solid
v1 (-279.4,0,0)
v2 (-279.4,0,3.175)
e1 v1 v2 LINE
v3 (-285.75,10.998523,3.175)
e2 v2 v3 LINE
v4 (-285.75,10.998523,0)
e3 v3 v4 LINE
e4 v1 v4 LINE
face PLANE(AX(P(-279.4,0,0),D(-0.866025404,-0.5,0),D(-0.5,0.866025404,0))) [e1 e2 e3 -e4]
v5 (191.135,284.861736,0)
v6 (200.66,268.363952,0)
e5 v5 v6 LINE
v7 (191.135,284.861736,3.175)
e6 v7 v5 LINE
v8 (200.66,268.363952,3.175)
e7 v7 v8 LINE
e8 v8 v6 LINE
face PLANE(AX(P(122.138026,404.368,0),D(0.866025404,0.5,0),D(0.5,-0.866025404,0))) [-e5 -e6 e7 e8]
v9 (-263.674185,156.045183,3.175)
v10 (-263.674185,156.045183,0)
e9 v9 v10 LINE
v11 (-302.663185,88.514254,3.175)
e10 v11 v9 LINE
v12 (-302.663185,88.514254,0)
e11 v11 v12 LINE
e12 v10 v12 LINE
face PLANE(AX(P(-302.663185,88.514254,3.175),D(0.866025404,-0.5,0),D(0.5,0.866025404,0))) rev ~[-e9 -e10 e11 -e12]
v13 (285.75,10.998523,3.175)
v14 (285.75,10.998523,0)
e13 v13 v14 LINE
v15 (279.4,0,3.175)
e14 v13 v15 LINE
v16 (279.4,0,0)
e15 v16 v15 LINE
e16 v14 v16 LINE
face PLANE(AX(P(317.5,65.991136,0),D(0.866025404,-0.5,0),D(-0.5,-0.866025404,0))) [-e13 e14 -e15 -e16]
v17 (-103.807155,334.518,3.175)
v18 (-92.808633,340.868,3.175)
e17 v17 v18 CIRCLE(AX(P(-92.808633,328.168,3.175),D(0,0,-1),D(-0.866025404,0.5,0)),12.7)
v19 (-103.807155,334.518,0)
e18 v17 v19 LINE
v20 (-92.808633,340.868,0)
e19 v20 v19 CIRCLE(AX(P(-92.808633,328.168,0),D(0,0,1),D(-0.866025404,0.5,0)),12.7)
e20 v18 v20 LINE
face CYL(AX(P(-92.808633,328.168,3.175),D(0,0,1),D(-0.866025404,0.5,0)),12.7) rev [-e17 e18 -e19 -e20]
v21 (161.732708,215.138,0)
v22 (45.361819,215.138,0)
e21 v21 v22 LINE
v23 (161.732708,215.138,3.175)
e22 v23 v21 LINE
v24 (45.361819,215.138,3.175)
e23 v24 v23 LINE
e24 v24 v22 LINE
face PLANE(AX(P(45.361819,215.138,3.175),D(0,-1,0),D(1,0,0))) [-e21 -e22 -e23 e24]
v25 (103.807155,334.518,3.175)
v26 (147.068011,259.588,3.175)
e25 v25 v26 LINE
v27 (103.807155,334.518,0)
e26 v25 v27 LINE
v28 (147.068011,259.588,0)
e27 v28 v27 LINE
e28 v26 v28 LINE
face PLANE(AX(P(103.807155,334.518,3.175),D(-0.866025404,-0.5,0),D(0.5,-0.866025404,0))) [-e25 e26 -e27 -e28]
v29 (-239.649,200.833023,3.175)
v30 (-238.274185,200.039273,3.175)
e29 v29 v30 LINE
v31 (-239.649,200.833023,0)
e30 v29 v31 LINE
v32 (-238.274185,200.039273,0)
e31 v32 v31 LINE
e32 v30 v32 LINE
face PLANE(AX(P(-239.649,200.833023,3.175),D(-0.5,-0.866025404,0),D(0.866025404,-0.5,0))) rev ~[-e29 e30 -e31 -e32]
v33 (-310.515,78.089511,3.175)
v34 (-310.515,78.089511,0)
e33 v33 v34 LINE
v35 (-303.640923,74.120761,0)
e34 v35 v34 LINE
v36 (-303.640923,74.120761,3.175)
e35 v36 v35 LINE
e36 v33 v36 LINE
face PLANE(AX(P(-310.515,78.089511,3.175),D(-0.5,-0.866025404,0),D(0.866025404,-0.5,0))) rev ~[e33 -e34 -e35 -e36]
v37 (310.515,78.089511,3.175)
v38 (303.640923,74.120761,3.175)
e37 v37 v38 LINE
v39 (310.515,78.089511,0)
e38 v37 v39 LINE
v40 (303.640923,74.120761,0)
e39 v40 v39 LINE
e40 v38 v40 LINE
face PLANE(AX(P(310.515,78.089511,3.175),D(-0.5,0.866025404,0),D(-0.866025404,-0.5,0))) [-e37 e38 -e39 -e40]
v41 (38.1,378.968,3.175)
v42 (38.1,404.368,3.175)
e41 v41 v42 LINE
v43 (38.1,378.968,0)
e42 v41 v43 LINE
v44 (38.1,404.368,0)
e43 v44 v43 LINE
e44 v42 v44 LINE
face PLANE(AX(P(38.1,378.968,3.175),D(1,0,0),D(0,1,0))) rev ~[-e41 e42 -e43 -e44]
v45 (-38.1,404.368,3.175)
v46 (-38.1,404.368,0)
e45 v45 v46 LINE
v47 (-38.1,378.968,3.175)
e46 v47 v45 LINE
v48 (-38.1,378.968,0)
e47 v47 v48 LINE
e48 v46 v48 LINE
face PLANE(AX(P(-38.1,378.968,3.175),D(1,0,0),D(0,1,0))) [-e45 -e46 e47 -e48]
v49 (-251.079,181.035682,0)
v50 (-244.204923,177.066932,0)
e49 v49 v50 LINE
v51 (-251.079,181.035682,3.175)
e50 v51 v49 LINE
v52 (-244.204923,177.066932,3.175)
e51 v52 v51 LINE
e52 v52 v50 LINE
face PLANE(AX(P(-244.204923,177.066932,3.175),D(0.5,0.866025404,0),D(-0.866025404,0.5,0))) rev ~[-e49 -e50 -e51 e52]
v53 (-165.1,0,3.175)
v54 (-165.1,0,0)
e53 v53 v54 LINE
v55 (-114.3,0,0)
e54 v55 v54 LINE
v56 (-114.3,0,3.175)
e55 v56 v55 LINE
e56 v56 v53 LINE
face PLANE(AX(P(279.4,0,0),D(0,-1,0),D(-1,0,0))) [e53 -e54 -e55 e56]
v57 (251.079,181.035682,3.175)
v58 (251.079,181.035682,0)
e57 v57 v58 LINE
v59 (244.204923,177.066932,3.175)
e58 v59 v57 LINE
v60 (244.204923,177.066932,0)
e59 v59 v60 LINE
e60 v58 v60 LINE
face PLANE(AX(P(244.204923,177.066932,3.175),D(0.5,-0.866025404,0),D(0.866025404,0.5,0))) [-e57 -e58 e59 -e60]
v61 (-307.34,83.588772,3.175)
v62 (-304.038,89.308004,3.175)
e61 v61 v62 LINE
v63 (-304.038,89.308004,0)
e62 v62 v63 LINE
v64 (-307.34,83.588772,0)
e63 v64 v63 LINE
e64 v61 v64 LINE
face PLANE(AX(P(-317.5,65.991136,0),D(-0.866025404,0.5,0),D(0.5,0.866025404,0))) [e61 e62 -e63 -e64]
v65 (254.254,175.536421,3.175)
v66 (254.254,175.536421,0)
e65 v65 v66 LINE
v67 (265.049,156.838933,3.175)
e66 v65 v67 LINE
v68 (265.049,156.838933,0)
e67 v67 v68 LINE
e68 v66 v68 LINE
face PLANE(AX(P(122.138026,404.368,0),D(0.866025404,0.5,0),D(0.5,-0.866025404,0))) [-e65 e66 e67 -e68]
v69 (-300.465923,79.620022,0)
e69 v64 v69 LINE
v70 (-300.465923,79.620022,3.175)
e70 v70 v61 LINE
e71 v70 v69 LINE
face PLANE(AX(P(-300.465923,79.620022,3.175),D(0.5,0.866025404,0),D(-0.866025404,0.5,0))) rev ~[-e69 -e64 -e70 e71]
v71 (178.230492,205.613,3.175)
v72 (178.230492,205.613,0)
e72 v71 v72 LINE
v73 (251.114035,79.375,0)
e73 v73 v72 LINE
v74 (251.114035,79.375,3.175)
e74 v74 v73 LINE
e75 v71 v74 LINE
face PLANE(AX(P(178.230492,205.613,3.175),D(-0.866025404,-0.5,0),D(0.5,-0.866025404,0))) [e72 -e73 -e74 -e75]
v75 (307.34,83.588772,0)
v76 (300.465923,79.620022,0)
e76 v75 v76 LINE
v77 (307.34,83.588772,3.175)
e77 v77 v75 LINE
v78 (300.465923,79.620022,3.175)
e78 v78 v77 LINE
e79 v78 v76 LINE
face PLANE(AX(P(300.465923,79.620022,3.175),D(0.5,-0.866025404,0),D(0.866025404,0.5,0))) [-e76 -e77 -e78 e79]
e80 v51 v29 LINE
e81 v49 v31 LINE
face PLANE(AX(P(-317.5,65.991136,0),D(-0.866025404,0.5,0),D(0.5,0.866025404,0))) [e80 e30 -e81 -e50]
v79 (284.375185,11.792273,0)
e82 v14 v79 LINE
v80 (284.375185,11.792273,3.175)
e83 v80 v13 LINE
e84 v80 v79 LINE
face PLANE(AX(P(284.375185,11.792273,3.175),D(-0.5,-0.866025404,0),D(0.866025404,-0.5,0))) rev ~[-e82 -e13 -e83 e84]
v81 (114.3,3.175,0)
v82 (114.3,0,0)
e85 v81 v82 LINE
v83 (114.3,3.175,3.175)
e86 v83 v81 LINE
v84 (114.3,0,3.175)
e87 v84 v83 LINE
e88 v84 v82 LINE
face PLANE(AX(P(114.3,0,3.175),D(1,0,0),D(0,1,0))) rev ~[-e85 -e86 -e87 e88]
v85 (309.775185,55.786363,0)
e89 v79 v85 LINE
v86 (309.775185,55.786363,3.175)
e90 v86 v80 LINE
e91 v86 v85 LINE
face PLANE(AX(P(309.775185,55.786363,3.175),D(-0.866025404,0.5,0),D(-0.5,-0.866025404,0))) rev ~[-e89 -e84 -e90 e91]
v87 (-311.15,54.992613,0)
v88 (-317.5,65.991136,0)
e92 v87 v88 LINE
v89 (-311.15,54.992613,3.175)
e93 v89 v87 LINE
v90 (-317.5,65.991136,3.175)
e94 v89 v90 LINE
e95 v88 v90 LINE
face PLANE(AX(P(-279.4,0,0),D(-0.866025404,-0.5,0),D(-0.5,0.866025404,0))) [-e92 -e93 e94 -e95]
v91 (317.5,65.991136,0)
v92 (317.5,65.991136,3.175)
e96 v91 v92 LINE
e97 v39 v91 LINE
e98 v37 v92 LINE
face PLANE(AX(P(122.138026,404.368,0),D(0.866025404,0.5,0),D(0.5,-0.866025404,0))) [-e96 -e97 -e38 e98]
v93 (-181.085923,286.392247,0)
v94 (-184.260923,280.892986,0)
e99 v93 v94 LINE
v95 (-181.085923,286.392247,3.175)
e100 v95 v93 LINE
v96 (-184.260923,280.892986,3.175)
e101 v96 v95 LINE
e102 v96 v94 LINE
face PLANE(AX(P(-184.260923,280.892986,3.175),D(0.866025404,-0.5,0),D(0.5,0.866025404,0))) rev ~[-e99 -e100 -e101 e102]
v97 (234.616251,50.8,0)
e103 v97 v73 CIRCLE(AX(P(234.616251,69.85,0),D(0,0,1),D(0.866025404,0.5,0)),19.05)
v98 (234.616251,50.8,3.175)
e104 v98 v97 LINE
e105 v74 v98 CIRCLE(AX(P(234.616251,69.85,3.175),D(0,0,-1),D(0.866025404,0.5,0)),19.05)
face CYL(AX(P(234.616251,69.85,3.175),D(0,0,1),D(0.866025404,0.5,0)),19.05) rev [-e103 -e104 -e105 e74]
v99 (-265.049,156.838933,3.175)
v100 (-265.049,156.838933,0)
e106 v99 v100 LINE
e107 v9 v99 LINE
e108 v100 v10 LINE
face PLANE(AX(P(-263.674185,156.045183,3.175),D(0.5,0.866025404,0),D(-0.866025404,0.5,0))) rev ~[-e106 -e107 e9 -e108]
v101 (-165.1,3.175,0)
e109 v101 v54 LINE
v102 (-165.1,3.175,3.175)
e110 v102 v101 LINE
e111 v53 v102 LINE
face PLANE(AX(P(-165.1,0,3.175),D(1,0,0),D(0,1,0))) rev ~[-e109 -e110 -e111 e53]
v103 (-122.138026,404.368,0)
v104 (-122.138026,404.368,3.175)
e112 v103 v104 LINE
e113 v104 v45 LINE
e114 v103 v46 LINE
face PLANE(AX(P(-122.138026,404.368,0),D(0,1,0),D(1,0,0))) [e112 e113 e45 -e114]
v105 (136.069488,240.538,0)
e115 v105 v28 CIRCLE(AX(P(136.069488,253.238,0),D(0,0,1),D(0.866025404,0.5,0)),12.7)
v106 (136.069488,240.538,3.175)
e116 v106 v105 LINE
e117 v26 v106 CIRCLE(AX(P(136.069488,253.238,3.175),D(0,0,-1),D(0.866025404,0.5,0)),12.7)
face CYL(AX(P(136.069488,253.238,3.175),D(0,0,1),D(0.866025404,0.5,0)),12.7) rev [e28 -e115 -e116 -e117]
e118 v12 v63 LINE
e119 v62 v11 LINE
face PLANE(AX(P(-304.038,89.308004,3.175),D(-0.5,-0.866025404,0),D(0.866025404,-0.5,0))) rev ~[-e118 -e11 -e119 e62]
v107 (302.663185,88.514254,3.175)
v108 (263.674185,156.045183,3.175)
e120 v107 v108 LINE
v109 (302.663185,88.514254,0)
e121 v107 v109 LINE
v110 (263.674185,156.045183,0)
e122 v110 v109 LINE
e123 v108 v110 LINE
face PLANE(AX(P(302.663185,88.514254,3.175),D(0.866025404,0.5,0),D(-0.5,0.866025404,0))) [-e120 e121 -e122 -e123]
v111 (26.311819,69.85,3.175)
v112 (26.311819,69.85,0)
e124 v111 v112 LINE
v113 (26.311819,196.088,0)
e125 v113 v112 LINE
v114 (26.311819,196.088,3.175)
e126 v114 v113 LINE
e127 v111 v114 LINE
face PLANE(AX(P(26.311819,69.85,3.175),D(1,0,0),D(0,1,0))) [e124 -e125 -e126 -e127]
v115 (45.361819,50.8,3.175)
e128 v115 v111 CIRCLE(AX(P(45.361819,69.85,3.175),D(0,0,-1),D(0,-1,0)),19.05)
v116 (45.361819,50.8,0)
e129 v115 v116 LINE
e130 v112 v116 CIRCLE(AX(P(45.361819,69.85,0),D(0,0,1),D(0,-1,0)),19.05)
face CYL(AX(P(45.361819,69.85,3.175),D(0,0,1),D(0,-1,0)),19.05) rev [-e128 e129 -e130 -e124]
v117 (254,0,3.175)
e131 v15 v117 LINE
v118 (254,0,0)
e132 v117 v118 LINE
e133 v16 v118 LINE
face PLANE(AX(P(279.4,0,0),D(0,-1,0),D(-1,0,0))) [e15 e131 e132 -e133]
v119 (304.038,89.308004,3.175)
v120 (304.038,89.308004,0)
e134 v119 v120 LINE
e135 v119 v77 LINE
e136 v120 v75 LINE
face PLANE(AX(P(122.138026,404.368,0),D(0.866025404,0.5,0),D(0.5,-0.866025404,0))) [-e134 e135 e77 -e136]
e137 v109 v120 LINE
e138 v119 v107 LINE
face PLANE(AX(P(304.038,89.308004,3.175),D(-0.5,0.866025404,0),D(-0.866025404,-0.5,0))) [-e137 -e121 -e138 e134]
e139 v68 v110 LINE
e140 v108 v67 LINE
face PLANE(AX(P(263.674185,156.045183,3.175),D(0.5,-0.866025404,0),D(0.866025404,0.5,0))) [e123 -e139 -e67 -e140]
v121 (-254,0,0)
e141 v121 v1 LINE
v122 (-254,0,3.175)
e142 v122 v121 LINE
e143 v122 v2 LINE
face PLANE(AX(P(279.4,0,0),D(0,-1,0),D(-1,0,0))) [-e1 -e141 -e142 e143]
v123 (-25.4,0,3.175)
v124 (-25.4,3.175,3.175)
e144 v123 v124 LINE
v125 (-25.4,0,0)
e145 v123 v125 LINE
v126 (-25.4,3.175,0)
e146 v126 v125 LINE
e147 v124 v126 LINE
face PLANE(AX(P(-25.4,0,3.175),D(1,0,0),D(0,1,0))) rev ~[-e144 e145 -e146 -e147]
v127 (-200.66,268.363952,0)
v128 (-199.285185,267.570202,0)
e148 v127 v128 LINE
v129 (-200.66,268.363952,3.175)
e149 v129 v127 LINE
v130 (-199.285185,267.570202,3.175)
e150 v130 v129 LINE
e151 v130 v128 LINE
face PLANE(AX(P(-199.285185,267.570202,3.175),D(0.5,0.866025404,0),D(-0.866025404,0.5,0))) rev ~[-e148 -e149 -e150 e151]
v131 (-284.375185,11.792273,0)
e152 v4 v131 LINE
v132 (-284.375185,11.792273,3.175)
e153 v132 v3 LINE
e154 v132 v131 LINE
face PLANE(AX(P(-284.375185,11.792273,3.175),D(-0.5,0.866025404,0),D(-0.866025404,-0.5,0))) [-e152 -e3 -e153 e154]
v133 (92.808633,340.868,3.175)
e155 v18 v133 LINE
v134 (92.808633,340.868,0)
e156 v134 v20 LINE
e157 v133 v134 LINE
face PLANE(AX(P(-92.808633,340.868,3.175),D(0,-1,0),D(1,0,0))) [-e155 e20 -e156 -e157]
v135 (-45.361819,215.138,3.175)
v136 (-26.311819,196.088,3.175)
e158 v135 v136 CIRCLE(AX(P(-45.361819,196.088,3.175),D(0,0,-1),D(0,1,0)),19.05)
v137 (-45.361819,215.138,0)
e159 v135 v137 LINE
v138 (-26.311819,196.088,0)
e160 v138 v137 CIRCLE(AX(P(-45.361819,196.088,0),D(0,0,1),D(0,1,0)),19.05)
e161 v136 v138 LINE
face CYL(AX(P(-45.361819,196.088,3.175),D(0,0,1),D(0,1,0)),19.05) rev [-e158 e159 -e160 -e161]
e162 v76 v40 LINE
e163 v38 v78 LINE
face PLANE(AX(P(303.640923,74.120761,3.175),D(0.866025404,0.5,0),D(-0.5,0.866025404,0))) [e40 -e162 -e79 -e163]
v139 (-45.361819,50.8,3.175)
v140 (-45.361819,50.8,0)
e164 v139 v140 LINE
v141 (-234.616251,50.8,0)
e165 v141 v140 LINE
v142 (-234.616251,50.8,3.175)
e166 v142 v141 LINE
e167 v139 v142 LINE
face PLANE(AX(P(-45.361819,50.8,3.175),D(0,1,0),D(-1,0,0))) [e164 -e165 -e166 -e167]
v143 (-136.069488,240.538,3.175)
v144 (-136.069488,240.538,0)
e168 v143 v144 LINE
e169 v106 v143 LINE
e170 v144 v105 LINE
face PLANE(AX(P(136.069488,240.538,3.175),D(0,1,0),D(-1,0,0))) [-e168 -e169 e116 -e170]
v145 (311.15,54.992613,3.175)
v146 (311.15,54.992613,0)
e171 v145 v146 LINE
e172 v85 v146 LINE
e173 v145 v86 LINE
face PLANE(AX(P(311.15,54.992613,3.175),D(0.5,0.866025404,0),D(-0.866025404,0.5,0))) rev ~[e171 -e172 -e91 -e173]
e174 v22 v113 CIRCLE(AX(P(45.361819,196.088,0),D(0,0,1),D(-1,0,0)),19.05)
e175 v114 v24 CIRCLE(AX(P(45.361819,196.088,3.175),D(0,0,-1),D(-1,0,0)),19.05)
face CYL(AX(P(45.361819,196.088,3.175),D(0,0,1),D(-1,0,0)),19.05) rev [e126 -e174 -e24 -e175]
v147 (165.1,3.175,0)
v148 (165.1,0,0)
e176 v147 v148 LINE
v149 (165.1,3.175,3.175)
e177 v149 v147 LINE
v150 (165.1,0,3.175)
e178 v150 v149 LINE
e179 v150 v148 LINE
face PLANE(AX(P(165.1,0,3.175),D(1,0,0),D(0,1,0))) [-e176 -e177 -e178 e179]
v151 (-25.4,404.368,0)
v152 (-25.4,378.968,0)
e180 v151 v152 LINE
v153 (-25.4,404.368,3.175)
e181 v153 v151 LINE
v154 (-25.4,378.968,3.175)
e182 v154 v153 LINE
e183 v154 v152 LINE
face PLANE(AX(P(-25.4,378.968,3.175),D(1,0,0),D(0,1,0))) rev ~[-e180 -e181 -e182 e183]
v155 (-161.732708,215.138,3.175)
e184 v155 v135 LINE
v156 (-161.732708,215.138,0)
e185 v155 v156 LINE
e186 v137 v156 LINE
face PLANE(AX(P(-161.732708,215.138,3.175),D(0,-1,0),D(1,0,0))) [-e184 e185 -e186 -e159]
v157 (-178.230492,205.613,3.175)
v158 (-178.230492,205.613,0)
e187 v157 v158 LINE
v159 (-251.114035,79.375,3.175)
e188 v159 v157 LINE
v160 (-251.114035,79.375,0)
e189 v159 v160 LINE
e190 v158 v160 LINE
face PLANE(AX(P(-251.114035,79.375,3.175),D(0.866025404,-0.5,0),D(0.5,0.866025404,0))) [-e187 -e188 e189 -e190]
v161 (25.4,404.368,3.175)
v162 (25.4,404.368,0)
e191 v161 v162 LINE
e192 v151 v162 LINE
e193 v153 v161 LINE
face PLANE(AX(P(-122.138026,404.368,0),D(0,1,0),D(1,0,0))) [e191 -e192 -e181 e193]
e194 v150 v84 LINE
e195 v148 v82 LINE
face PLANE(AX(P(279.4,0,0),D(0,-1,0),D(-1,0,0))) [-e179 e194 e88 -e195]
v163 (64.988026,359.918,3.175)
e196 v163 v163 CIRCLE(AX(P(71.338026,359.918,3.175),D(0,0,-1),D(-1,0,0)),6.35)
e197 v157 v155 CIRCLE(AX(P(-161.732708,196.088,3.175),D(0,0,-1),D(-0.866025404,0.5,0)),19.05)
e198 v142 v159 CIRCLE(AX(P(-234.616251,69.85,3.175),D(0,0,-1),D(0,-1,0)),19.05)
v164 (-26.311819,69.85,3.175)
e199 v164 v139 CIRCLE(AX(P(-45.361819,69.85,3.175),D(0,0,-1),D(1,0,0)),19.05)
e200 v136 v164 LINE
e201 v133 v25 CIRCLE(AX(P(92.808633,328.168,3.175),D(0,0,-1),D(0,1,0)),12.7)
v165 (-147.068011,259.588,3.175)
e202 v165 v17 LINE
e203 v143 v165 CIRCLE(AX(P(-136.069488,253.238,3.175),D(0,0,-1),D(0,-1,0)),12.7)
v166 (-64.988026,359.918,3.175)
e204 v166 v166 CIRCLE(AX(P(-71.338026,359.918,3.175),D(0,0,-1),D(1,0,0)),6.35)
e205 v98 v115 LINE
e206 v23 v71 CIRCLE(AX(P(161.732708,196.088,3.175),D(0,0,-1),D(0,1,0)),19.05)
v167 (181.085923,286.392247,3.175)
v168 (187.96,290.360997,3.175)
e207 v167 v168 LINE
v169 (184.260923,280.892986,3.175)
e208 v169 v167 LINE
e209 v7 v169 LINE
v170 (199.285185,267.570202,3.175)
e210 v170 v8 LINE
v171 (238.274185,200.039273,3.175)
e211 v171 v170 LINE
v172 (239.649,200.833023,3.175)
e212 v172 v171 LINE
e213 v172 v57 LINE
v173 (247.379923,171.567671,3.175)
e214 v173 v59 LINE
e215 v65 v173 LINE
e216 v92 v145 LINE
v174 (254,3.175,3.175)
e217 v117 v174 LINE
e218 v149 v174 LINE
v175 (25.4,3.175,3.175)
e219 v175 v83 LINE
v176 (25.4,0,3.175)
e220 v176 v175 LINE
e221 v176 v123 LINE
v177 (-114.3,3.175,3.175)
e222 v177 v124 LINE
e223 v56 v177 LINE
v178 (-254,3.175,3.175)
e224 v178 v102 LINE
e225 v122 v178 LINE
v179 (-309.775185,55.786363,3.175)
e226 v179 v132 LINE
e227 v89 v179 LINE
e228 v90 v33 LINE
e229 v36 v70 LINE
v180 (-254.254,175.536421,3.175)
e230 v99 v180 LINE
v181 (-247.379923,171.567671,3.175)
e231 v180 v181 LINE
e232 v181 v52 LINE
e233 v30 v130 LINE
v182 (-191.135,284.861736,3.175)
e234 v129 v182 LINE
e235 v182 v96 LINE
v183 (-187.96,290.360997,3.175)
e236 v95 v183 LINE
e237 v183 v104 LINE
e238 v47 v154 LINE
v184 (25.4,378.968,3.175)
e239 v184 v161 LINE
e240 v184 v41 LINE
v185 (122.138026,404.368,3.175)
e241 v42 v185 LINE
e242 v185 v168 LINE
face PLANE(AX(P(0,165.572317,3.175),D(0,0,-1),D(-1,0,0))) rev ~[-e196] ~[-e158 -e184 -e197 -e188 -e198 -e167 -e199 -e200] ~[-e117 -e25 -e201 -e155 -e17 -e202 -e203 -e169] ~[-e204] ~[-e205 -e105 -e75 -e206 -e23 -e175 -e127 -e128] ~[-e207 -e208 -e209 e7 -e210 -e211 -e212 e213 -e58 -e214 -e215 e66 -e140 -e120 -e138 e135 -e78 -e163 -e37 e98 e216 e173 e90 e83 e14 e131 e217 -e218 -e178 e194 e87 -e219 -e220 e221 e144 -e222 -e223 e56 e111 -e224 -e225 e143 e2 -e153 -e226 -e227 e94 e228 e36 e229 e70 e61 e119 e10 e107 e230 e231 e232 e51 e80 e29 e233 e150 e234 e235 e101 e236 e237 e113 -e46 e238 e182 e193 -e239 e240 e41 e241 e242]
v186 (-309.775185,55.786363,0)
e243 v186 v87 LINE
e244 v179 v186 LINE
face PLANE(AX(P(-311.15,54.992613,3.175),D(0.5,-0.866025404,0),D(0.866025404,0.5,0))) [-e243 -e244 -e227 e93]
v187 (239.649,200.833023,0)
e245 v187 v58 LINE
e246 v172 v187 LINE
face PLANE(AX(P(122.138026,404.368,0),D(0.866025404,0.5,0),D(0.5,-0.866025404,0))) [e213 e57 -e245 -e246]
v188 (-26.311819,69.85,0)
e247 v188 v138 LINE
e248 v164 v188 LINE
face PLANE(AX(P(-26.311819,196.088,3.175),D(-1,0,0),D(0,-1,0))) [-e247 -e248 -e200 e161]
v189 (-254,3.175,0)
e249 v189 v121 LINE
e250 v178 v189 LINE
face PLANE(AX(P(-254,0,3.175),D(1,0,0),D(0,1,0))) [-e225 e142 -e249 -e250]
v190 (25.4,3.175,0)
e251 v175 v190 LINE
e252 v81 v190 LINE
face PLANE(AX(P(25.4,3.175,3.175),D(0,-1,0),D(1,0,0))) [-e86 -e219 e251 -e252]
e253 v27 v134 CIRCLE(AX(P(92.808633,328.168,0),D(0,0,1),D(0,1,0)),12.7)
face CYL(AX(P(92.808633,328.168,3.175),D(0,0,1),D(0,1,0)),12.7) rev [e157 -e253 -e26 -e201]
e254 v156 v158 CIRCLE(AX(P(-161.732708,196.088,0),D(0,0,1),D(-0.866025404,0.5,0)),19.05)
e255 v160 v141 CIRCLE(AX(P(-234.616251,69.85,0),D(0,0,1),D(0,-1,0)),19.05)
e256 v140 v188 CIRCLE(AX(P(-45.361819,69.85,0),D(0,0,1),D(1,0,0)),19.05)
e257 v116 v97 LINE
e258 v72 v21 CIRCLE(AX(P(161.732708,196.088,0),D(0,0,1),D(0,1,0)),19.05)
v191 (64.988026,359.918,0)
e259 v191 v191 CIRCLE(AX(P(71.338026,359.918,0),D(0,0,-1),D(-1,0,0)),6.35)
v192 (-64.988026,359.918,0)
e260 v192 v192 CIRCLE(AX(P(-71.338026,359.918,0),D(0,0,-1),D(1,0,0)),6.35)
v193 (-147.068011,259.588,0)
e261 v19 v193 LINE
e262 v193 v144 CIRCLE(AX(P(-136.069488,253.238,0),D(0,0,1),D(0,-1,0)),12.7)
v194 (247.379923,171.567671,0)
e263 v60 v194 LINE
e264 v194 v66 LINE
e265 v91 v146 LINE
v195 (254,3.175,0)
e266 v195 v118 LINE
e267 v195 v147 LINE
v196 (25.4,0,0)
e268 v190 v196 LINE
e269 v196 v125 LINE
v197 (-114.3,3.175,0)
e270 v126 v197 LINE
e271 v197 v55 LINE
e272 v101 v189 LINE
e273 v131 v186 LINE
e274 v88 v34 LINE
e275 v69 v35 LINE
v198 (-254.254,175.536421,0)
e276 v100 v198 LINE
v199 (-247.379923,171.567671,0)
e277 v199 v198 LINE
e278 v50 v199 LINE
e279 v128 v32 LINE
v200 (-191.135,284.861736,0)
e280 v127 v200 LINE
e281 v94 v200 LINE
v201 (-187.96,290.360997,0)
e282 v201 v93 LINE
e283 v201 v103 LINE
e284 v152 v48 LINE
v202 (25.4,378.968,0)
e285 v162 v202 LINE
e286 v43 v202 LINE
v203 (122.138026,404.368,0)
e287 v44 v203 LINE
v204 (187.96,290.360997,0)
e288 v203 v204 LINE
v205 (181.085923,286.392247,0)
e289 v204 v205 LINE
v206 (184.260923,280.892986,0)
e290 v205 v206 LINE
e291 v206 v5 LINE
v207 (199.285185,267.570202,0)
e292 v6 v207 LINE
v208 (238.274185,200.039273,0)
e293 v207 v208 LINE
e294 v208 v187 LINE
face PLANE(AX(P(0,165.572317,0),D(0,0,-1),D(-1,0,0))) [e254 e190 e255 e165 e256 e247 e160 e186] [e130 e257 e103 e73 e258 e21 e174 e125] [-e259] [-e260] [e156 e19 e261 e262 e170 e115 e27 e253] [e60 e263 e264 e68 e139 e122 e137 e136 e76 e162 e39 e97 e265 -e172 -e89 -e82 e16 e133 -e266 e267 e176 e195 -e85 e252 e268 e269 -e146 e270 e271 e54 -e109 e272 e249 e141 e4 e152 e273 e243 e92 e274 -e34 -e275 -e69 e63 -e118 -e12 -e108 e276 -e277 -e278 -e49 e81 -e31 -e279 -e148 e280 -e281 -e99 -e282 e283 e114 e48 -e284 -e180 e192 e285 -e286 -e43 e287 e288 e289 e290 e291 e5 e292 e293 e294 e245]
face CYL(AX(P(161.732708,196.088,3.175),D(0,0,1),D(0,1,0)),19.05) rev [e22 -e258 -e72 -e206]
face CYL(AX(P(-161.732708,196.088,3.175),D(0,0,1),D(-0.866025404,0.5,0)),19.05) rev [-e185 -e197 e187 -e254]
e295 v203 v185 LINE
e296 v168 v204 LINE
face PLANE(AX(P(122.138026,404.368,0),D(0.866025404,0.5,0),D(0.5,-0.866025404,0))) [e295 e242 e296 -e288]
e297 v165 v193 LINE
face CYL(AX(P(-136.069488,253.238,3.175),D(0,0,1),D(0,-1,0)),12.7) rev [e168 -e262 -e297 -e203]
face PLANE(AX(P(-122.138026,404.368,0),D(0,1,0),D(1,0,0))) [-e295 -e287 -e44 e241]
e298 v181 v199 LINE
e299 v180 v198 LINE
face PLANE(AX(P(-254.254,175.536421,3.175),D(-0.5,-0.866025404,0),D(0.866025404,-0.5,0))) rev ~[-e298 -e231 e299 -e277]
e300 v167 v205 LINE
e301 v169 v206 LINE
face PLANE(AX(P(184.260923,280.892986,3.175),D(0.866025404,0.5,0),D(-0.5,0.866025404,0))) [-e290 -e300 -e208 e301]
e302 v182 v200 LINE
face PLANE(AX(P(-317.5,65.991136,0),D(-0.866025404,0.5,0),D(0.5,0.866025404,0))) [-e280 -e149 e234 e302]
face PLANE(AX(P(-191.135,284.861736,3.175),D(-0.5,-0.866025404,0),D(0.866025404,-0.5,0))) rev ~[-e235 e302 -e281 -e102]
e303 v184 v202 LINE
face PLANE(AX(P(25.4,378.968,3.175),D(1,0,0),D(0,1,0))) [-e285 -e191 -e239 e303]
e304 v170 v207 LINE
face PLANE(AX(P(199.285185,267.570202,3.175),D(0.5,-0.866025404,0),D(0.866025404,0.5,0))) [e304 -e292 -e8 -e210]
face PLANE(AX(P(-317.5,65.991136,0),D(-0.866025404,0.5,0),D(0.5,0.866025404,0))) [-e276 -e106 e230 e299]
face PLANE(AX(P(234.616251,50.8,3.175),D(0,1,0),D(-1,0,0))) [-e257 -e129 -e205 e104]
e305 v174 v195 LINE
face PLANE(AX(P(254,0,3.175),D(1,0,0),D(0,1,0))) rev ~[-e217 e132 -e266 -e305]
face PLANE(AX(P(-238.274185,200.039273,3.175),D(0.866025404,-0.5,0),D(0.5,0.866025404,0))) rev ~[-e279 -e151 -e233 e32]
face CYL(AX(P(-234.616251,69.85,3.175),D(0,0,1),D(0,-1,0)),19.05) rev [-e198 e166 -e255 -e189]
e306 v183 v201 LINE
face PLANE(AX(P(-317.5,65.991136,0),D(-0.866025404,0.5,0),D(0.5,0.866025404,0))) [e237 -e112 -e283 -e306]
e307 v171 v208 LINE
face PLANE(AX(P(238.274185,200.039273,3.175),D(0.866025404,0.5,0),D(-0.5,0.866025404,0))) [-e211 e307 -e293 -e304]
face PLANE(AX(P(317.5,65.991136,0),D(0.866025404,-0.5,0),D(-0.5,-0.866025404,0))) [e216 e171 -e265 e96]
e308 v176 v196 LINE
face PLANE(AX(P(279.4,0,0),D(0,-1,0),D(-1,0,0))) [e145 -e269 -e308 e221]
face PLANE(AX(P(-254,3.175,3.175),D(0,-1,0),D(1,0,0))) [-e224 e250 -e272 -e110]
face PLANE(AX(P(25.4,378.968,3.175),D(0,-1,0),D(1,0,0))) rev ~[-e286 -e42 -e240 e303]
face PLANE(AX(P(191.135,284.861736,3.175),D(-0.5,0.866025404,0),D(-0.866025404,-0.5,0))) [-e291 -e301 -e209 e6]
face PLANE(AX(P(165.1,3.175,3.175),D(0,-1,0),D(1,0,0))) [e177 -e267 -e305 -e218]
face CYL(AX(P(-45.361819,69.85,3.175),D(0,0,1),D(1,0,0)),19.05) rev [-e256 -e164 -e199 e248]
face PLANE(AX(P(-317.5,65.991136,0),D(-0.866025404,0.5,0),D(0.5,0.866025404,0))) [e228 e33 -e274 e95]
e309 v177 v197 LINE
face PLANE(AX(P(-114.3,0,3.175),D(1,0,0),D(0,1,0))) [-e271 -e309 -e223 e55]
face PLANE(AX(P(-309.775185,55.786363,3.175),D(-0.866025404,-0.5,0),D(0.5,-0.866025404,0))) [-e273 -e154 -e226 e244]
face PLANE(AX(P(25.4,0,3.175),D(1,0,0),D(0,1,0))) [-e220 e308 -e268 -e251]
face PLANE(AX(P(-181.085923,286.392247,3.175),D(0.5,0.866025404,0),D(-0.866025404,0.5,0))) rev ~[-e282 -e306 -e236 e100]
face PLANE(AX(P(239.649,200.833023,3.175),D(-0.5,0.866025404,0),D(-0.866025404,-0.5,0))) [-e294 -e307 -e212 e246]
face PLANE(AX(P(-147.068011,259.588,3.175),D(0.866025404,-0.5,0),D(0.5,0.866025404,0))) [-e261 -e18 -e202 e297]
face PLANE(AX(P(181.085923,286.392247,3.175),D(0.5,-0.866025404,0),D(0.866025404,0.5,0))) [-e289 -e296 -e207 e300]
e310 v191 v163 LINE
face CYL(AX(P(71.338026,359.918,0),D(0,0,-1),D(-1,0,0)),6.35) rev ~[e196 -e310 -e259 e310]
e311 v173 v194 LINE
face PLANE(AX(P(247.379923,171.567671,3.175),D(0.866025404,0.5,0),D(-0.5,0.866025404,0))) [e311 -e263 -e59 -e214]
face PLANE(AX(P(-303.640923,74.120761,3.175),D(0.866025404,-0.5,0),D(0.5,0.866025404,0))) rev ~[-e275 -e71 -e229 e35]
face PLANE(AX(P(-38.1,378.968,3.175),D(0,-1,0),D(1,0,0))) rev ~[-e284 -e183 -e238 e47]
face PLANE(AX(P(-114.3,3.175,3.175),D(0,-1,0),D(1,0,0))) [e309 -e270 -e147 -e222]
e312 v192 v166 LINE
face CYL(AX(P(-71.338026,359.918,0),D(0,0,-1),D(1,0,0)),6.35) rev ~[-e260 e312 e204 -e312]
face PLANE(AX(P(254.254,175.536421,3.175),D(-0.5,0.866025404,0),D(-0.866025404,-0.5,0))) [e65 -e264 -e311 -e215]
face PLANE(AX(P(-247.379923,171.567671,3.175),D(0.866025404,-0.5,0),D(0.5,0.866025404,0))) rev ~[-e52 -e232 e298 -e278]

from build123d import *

# Parameters (mm, degrees)
BOSS_EXTRUDE1_DEPTH = 3.175
SKETCH8_W           = 12.7
SKETCH8_H           = 25.4
CUT_EXTRUDE1_DEPTH  = 515.13014894
SKETCH9_W           = 88.9
SKETCH9_H           = 3.175
CUT_EXTRUDE2_DEPTH  = 515.13014894
CUT_EXTRUDE3_DEPTH  = 515.13014894
CUT_EXTRUDE4_DEPTH  = 515.13014894
CUT_EXTRUDE5_DEPTH  = 515.13014894
CUT_EXTRUDE6_DEPTH  = 515.13014894
CUT_EXTRUDE7_DEPTH  = 515.13014894
SKETCH15_R          = 6.35
CUT_EXTRUDE8_DEPTH  = 515.13014894


with BuildPart() as part:
    # Sketch7 → Boss-Extrude1 (new body)
    with BuildSketch(Plane.XY):
        Polygon((279.4, 0), (-279.4, 0), (-317.5, 65.991135768), (-122.138026348, 404.368), (122.138026348, 404.368), (317.5, 65.991135768), align=None)
    extrude(amount=BOSS_EXTRUDE1_DEPTH)

    # Sketch8 → Cut-Extrude1 (cut, through all)
    with BuildSketch(Plane.XY.offset(3.175)):
        with Locations((-31.75, 391.668)):
            Rectangle(SKETCH8_W, SKETCH8_H)
        with Locations((31.75, 391.668)):
            Rectangle(SKETCH8_W, SKETCH8_H)
    extrude(amount=-CUT_EXTRUDE1_DEPTH, mode=Mode.SUBTRACT)

    # Sketch9 → Cut-Extrude2 (cut, through all)
    with BuildSketch(Plane.XY.offset(3.175)):
        with Locations((-209.55, 1.5875)):
            Rectangle(SKETCH9_W, SKETCH9_H)
        with Locations((-69.85, 1.5875)):
            Rectangle(SKETCH9_W, SKETCH9_H)
        with Locations((69.85, 1.5875)):
            Rectangle(SKETCH9_W, SKETCH9_H)
        with Locations((209.55, 1.5875)):
            Rectangle(SKETCH9_W, SKETCH9_H)
    extrude(amount=-CUT_EXTRUDE2_DEPTH, mode=Mode.SUBTRACT)

    # Sketch10 → Cut-Extrude3 (cut, through all)
    with BuildSketch(Plane.XY.offset(3.175)):
        Polygon((-311.15, 54.99261314), (-309.775184671, 55.78636314), (-284.375184671, 11.792272628), (-285.75, 10.998522628), align=None)
        Polygon((285.75, 10.998522628), (311.15, 54.99261314), (309.775184671, 55.78636314), (284.375184671, 11.792272628), align=None)
    extrude(amount=-CUT_EXTRUDE3_DEPTH, mode=Mode.SUBTRACT)

    # Sketch11 → Cut-Extrude4 (cut, through all)
    with BuildSketch(Plane.XY.offset(3.175)):
        Polygon((-304.038, 89.30800374), (-302.663184671, 88.51425374), (-263.674184671, 156.045182676), (-265.049, 156.838932676), align=None)
        Polygon((-238.274184671, 200.039273188), (-199.285184671, 267.570202125), (-200.66, 268.363952125), (-239.649, 200.833023188), align=None)
        Polygon((304.038, 89.30800374), (302.663184671, 88.51425374), (263.674184671, 156.045182676), (265.049, 156.838932676), align=None)
        Polygon((239.649, 200.833023188), (238.274184671, 200.039273188), (199.285184671, 267.570202125), (200.66, 268.363952125), align=None)
    extrude(amount=-CUT_EXTRUDE4_DEPTH, mode=Mode.SUBTRACT)

    # Sketch12 → Cut-Extrude5 (cut, through all)
    with BuildSketch(Plane.XY.offset(3.175)):
        Polygon((-254.254, 175.536421144), (-247.379923357, 171.567671144), (-244.204923357, 177.066932458), (-251.079, 181.035682458), align=None)
        Polygon((251.079, 181.035682458), (254.254, 175.536421144), (247.379923357, 171.567671144), (244.204923357, 177.066932458), align=None)
        Polygon((-310.515, 78.089510659), (-303.640923357, 74.120760659), (-300.465923357, 79.620021973), (-307.34, 83.588771973), align=None)
        Polygon((-191.135, 284.861736067), (-184.260923357, 280.892986067), (-181.085923357, 286.392247381), (-187.96, 290.360997381), align=None)
        Polygon((307.34, 83.588771973), (310.515, 78.089510659), (303.640923357, 74.120760659), (300.465923357, 79.620021973), align=None)
        Polygon((187.96, 290.360997381), (191.135, 284.861736067), (184.260923357, 280.892986067), (181.085923357, 286.392247381), align=None)
    extrude(amount=-CUT_EXTRUDE5_DEPTH, mode=Mode.SUBTRACT)

    # Sketch13 → Cut-Extrude6 (cut, through all)
    with BuildSketch(Plane.XY.offset(3.175)):
        with BuildLine():
            Line((-92.808632673, 340.868), (92.808632673, 340.868))
            ThreePointArc((92.808632673, 340.868), (99.158632673, 339.166522628), (103.807155302, 334.518))
            Line((103.807155302, 334.518), (147.068010972, 259.588))
            ThreePointArc((147.068010972, 259.588), (147.068010972, 246.888), (136.069488344, 240.538))
            Line((136.069488344, 240.538), (-136.069488344, 240.538))
            ThreePointArc((-136.069488344, 240.538), (-147.068010972, 246.888), (-147.068010972, 259.588))
            Line((-147.068010972, 259.588), (-103.807155302, 334.518))
            ThreePointArc((-103.807155302, 334.518), (-99.158632673, 339.166522628), (-92.808632673, 340.868))
        make_face()
    extrude(amount=-CUT_EXTRUDE6_DEPTH, mode=Mode.SUBTRACT)

    # Sketch14 → Cut-Extrude7 (cut, through all)
    with BuildSketch(Plane.XY.offset(3.175)):
        with BuildLine():
            Line((45.361818975, 215.138), (161.732707809, 215.138))
            ThreePointArc((161.732707809, 215.138), (171.257707809, 212.585783942), (178.230491751, 205.613))
            Line((178.230491751, 205.613), (251.114035033, 79.375))
            ThreePointArc((251.114035033, 79.375), (251.114035033, 60.325), (234.616251091, 50.8))
            Line((234.616251091, 50.8), (45.361818975, 50.8))
            ThreePointArc((45.361818975, 50.8), (31.891434794, 56.379615818), (26.311818975, 69.85))
            Line((26.311818975, 69.85), (26.311818975, 196.088))
            ThreePointArc((26.311818975, 196.088), (31.891434794, 209.558384182), (45.361818975, 215.138))
        make_face()
        with BuildLine():
            Line((-161.732707809, 215.138), (-45.361818975, 215.138))
            ThreePointArc((-45.361818975, 215.138), (-31.891434794, 209.558384182), (-26.311818975, 196.088))
            Line((-26.311818975, 196.088), (-26.311818975, 69.85))
            ThreePointArc((-26.311818975, 69.85), (-31.891434794, 56.379615818), (-45.361818975, 50.8))
            Line((-45.361818975, 50.8), (-234.616251091, 50.8))
            ThreePointArc((-234.616251091, 50.8), (-251.114035033, 60.325), (-251.114035033, 79.375))
            Line((-251.114035033, 79.375), (-178.230491751, 205.613))
            ThreePointArc((-178.230491751, 205.613), (-171.257707809, 212.585783942), (-161.732707809, 215.138))
        make_face()
    extrude(amount=-CUT_EXTRUDE7_DEPTH, mode=Mode.SUBTRACT)

    # Sketch15 → Cut-Extrude8 (cut, through all)
    with BuildSketch(Plane(origin=(0, 0, 0), x_dir=(-1, 0, 0), z_dir=(0, 0, -1))):
        with Locations((-71.338026348, 359.918)):
            Circle(SKETCH15_R)
        with Locations(Location((71.338026348, 359.918, 0), (0, 0, 180))):
            Circle(SKETCH15_R)
    extrude(amount=-CUT_EXTRUDE8_DEPTH, mode=Mode.SUBTRACT)


solid = part.part
